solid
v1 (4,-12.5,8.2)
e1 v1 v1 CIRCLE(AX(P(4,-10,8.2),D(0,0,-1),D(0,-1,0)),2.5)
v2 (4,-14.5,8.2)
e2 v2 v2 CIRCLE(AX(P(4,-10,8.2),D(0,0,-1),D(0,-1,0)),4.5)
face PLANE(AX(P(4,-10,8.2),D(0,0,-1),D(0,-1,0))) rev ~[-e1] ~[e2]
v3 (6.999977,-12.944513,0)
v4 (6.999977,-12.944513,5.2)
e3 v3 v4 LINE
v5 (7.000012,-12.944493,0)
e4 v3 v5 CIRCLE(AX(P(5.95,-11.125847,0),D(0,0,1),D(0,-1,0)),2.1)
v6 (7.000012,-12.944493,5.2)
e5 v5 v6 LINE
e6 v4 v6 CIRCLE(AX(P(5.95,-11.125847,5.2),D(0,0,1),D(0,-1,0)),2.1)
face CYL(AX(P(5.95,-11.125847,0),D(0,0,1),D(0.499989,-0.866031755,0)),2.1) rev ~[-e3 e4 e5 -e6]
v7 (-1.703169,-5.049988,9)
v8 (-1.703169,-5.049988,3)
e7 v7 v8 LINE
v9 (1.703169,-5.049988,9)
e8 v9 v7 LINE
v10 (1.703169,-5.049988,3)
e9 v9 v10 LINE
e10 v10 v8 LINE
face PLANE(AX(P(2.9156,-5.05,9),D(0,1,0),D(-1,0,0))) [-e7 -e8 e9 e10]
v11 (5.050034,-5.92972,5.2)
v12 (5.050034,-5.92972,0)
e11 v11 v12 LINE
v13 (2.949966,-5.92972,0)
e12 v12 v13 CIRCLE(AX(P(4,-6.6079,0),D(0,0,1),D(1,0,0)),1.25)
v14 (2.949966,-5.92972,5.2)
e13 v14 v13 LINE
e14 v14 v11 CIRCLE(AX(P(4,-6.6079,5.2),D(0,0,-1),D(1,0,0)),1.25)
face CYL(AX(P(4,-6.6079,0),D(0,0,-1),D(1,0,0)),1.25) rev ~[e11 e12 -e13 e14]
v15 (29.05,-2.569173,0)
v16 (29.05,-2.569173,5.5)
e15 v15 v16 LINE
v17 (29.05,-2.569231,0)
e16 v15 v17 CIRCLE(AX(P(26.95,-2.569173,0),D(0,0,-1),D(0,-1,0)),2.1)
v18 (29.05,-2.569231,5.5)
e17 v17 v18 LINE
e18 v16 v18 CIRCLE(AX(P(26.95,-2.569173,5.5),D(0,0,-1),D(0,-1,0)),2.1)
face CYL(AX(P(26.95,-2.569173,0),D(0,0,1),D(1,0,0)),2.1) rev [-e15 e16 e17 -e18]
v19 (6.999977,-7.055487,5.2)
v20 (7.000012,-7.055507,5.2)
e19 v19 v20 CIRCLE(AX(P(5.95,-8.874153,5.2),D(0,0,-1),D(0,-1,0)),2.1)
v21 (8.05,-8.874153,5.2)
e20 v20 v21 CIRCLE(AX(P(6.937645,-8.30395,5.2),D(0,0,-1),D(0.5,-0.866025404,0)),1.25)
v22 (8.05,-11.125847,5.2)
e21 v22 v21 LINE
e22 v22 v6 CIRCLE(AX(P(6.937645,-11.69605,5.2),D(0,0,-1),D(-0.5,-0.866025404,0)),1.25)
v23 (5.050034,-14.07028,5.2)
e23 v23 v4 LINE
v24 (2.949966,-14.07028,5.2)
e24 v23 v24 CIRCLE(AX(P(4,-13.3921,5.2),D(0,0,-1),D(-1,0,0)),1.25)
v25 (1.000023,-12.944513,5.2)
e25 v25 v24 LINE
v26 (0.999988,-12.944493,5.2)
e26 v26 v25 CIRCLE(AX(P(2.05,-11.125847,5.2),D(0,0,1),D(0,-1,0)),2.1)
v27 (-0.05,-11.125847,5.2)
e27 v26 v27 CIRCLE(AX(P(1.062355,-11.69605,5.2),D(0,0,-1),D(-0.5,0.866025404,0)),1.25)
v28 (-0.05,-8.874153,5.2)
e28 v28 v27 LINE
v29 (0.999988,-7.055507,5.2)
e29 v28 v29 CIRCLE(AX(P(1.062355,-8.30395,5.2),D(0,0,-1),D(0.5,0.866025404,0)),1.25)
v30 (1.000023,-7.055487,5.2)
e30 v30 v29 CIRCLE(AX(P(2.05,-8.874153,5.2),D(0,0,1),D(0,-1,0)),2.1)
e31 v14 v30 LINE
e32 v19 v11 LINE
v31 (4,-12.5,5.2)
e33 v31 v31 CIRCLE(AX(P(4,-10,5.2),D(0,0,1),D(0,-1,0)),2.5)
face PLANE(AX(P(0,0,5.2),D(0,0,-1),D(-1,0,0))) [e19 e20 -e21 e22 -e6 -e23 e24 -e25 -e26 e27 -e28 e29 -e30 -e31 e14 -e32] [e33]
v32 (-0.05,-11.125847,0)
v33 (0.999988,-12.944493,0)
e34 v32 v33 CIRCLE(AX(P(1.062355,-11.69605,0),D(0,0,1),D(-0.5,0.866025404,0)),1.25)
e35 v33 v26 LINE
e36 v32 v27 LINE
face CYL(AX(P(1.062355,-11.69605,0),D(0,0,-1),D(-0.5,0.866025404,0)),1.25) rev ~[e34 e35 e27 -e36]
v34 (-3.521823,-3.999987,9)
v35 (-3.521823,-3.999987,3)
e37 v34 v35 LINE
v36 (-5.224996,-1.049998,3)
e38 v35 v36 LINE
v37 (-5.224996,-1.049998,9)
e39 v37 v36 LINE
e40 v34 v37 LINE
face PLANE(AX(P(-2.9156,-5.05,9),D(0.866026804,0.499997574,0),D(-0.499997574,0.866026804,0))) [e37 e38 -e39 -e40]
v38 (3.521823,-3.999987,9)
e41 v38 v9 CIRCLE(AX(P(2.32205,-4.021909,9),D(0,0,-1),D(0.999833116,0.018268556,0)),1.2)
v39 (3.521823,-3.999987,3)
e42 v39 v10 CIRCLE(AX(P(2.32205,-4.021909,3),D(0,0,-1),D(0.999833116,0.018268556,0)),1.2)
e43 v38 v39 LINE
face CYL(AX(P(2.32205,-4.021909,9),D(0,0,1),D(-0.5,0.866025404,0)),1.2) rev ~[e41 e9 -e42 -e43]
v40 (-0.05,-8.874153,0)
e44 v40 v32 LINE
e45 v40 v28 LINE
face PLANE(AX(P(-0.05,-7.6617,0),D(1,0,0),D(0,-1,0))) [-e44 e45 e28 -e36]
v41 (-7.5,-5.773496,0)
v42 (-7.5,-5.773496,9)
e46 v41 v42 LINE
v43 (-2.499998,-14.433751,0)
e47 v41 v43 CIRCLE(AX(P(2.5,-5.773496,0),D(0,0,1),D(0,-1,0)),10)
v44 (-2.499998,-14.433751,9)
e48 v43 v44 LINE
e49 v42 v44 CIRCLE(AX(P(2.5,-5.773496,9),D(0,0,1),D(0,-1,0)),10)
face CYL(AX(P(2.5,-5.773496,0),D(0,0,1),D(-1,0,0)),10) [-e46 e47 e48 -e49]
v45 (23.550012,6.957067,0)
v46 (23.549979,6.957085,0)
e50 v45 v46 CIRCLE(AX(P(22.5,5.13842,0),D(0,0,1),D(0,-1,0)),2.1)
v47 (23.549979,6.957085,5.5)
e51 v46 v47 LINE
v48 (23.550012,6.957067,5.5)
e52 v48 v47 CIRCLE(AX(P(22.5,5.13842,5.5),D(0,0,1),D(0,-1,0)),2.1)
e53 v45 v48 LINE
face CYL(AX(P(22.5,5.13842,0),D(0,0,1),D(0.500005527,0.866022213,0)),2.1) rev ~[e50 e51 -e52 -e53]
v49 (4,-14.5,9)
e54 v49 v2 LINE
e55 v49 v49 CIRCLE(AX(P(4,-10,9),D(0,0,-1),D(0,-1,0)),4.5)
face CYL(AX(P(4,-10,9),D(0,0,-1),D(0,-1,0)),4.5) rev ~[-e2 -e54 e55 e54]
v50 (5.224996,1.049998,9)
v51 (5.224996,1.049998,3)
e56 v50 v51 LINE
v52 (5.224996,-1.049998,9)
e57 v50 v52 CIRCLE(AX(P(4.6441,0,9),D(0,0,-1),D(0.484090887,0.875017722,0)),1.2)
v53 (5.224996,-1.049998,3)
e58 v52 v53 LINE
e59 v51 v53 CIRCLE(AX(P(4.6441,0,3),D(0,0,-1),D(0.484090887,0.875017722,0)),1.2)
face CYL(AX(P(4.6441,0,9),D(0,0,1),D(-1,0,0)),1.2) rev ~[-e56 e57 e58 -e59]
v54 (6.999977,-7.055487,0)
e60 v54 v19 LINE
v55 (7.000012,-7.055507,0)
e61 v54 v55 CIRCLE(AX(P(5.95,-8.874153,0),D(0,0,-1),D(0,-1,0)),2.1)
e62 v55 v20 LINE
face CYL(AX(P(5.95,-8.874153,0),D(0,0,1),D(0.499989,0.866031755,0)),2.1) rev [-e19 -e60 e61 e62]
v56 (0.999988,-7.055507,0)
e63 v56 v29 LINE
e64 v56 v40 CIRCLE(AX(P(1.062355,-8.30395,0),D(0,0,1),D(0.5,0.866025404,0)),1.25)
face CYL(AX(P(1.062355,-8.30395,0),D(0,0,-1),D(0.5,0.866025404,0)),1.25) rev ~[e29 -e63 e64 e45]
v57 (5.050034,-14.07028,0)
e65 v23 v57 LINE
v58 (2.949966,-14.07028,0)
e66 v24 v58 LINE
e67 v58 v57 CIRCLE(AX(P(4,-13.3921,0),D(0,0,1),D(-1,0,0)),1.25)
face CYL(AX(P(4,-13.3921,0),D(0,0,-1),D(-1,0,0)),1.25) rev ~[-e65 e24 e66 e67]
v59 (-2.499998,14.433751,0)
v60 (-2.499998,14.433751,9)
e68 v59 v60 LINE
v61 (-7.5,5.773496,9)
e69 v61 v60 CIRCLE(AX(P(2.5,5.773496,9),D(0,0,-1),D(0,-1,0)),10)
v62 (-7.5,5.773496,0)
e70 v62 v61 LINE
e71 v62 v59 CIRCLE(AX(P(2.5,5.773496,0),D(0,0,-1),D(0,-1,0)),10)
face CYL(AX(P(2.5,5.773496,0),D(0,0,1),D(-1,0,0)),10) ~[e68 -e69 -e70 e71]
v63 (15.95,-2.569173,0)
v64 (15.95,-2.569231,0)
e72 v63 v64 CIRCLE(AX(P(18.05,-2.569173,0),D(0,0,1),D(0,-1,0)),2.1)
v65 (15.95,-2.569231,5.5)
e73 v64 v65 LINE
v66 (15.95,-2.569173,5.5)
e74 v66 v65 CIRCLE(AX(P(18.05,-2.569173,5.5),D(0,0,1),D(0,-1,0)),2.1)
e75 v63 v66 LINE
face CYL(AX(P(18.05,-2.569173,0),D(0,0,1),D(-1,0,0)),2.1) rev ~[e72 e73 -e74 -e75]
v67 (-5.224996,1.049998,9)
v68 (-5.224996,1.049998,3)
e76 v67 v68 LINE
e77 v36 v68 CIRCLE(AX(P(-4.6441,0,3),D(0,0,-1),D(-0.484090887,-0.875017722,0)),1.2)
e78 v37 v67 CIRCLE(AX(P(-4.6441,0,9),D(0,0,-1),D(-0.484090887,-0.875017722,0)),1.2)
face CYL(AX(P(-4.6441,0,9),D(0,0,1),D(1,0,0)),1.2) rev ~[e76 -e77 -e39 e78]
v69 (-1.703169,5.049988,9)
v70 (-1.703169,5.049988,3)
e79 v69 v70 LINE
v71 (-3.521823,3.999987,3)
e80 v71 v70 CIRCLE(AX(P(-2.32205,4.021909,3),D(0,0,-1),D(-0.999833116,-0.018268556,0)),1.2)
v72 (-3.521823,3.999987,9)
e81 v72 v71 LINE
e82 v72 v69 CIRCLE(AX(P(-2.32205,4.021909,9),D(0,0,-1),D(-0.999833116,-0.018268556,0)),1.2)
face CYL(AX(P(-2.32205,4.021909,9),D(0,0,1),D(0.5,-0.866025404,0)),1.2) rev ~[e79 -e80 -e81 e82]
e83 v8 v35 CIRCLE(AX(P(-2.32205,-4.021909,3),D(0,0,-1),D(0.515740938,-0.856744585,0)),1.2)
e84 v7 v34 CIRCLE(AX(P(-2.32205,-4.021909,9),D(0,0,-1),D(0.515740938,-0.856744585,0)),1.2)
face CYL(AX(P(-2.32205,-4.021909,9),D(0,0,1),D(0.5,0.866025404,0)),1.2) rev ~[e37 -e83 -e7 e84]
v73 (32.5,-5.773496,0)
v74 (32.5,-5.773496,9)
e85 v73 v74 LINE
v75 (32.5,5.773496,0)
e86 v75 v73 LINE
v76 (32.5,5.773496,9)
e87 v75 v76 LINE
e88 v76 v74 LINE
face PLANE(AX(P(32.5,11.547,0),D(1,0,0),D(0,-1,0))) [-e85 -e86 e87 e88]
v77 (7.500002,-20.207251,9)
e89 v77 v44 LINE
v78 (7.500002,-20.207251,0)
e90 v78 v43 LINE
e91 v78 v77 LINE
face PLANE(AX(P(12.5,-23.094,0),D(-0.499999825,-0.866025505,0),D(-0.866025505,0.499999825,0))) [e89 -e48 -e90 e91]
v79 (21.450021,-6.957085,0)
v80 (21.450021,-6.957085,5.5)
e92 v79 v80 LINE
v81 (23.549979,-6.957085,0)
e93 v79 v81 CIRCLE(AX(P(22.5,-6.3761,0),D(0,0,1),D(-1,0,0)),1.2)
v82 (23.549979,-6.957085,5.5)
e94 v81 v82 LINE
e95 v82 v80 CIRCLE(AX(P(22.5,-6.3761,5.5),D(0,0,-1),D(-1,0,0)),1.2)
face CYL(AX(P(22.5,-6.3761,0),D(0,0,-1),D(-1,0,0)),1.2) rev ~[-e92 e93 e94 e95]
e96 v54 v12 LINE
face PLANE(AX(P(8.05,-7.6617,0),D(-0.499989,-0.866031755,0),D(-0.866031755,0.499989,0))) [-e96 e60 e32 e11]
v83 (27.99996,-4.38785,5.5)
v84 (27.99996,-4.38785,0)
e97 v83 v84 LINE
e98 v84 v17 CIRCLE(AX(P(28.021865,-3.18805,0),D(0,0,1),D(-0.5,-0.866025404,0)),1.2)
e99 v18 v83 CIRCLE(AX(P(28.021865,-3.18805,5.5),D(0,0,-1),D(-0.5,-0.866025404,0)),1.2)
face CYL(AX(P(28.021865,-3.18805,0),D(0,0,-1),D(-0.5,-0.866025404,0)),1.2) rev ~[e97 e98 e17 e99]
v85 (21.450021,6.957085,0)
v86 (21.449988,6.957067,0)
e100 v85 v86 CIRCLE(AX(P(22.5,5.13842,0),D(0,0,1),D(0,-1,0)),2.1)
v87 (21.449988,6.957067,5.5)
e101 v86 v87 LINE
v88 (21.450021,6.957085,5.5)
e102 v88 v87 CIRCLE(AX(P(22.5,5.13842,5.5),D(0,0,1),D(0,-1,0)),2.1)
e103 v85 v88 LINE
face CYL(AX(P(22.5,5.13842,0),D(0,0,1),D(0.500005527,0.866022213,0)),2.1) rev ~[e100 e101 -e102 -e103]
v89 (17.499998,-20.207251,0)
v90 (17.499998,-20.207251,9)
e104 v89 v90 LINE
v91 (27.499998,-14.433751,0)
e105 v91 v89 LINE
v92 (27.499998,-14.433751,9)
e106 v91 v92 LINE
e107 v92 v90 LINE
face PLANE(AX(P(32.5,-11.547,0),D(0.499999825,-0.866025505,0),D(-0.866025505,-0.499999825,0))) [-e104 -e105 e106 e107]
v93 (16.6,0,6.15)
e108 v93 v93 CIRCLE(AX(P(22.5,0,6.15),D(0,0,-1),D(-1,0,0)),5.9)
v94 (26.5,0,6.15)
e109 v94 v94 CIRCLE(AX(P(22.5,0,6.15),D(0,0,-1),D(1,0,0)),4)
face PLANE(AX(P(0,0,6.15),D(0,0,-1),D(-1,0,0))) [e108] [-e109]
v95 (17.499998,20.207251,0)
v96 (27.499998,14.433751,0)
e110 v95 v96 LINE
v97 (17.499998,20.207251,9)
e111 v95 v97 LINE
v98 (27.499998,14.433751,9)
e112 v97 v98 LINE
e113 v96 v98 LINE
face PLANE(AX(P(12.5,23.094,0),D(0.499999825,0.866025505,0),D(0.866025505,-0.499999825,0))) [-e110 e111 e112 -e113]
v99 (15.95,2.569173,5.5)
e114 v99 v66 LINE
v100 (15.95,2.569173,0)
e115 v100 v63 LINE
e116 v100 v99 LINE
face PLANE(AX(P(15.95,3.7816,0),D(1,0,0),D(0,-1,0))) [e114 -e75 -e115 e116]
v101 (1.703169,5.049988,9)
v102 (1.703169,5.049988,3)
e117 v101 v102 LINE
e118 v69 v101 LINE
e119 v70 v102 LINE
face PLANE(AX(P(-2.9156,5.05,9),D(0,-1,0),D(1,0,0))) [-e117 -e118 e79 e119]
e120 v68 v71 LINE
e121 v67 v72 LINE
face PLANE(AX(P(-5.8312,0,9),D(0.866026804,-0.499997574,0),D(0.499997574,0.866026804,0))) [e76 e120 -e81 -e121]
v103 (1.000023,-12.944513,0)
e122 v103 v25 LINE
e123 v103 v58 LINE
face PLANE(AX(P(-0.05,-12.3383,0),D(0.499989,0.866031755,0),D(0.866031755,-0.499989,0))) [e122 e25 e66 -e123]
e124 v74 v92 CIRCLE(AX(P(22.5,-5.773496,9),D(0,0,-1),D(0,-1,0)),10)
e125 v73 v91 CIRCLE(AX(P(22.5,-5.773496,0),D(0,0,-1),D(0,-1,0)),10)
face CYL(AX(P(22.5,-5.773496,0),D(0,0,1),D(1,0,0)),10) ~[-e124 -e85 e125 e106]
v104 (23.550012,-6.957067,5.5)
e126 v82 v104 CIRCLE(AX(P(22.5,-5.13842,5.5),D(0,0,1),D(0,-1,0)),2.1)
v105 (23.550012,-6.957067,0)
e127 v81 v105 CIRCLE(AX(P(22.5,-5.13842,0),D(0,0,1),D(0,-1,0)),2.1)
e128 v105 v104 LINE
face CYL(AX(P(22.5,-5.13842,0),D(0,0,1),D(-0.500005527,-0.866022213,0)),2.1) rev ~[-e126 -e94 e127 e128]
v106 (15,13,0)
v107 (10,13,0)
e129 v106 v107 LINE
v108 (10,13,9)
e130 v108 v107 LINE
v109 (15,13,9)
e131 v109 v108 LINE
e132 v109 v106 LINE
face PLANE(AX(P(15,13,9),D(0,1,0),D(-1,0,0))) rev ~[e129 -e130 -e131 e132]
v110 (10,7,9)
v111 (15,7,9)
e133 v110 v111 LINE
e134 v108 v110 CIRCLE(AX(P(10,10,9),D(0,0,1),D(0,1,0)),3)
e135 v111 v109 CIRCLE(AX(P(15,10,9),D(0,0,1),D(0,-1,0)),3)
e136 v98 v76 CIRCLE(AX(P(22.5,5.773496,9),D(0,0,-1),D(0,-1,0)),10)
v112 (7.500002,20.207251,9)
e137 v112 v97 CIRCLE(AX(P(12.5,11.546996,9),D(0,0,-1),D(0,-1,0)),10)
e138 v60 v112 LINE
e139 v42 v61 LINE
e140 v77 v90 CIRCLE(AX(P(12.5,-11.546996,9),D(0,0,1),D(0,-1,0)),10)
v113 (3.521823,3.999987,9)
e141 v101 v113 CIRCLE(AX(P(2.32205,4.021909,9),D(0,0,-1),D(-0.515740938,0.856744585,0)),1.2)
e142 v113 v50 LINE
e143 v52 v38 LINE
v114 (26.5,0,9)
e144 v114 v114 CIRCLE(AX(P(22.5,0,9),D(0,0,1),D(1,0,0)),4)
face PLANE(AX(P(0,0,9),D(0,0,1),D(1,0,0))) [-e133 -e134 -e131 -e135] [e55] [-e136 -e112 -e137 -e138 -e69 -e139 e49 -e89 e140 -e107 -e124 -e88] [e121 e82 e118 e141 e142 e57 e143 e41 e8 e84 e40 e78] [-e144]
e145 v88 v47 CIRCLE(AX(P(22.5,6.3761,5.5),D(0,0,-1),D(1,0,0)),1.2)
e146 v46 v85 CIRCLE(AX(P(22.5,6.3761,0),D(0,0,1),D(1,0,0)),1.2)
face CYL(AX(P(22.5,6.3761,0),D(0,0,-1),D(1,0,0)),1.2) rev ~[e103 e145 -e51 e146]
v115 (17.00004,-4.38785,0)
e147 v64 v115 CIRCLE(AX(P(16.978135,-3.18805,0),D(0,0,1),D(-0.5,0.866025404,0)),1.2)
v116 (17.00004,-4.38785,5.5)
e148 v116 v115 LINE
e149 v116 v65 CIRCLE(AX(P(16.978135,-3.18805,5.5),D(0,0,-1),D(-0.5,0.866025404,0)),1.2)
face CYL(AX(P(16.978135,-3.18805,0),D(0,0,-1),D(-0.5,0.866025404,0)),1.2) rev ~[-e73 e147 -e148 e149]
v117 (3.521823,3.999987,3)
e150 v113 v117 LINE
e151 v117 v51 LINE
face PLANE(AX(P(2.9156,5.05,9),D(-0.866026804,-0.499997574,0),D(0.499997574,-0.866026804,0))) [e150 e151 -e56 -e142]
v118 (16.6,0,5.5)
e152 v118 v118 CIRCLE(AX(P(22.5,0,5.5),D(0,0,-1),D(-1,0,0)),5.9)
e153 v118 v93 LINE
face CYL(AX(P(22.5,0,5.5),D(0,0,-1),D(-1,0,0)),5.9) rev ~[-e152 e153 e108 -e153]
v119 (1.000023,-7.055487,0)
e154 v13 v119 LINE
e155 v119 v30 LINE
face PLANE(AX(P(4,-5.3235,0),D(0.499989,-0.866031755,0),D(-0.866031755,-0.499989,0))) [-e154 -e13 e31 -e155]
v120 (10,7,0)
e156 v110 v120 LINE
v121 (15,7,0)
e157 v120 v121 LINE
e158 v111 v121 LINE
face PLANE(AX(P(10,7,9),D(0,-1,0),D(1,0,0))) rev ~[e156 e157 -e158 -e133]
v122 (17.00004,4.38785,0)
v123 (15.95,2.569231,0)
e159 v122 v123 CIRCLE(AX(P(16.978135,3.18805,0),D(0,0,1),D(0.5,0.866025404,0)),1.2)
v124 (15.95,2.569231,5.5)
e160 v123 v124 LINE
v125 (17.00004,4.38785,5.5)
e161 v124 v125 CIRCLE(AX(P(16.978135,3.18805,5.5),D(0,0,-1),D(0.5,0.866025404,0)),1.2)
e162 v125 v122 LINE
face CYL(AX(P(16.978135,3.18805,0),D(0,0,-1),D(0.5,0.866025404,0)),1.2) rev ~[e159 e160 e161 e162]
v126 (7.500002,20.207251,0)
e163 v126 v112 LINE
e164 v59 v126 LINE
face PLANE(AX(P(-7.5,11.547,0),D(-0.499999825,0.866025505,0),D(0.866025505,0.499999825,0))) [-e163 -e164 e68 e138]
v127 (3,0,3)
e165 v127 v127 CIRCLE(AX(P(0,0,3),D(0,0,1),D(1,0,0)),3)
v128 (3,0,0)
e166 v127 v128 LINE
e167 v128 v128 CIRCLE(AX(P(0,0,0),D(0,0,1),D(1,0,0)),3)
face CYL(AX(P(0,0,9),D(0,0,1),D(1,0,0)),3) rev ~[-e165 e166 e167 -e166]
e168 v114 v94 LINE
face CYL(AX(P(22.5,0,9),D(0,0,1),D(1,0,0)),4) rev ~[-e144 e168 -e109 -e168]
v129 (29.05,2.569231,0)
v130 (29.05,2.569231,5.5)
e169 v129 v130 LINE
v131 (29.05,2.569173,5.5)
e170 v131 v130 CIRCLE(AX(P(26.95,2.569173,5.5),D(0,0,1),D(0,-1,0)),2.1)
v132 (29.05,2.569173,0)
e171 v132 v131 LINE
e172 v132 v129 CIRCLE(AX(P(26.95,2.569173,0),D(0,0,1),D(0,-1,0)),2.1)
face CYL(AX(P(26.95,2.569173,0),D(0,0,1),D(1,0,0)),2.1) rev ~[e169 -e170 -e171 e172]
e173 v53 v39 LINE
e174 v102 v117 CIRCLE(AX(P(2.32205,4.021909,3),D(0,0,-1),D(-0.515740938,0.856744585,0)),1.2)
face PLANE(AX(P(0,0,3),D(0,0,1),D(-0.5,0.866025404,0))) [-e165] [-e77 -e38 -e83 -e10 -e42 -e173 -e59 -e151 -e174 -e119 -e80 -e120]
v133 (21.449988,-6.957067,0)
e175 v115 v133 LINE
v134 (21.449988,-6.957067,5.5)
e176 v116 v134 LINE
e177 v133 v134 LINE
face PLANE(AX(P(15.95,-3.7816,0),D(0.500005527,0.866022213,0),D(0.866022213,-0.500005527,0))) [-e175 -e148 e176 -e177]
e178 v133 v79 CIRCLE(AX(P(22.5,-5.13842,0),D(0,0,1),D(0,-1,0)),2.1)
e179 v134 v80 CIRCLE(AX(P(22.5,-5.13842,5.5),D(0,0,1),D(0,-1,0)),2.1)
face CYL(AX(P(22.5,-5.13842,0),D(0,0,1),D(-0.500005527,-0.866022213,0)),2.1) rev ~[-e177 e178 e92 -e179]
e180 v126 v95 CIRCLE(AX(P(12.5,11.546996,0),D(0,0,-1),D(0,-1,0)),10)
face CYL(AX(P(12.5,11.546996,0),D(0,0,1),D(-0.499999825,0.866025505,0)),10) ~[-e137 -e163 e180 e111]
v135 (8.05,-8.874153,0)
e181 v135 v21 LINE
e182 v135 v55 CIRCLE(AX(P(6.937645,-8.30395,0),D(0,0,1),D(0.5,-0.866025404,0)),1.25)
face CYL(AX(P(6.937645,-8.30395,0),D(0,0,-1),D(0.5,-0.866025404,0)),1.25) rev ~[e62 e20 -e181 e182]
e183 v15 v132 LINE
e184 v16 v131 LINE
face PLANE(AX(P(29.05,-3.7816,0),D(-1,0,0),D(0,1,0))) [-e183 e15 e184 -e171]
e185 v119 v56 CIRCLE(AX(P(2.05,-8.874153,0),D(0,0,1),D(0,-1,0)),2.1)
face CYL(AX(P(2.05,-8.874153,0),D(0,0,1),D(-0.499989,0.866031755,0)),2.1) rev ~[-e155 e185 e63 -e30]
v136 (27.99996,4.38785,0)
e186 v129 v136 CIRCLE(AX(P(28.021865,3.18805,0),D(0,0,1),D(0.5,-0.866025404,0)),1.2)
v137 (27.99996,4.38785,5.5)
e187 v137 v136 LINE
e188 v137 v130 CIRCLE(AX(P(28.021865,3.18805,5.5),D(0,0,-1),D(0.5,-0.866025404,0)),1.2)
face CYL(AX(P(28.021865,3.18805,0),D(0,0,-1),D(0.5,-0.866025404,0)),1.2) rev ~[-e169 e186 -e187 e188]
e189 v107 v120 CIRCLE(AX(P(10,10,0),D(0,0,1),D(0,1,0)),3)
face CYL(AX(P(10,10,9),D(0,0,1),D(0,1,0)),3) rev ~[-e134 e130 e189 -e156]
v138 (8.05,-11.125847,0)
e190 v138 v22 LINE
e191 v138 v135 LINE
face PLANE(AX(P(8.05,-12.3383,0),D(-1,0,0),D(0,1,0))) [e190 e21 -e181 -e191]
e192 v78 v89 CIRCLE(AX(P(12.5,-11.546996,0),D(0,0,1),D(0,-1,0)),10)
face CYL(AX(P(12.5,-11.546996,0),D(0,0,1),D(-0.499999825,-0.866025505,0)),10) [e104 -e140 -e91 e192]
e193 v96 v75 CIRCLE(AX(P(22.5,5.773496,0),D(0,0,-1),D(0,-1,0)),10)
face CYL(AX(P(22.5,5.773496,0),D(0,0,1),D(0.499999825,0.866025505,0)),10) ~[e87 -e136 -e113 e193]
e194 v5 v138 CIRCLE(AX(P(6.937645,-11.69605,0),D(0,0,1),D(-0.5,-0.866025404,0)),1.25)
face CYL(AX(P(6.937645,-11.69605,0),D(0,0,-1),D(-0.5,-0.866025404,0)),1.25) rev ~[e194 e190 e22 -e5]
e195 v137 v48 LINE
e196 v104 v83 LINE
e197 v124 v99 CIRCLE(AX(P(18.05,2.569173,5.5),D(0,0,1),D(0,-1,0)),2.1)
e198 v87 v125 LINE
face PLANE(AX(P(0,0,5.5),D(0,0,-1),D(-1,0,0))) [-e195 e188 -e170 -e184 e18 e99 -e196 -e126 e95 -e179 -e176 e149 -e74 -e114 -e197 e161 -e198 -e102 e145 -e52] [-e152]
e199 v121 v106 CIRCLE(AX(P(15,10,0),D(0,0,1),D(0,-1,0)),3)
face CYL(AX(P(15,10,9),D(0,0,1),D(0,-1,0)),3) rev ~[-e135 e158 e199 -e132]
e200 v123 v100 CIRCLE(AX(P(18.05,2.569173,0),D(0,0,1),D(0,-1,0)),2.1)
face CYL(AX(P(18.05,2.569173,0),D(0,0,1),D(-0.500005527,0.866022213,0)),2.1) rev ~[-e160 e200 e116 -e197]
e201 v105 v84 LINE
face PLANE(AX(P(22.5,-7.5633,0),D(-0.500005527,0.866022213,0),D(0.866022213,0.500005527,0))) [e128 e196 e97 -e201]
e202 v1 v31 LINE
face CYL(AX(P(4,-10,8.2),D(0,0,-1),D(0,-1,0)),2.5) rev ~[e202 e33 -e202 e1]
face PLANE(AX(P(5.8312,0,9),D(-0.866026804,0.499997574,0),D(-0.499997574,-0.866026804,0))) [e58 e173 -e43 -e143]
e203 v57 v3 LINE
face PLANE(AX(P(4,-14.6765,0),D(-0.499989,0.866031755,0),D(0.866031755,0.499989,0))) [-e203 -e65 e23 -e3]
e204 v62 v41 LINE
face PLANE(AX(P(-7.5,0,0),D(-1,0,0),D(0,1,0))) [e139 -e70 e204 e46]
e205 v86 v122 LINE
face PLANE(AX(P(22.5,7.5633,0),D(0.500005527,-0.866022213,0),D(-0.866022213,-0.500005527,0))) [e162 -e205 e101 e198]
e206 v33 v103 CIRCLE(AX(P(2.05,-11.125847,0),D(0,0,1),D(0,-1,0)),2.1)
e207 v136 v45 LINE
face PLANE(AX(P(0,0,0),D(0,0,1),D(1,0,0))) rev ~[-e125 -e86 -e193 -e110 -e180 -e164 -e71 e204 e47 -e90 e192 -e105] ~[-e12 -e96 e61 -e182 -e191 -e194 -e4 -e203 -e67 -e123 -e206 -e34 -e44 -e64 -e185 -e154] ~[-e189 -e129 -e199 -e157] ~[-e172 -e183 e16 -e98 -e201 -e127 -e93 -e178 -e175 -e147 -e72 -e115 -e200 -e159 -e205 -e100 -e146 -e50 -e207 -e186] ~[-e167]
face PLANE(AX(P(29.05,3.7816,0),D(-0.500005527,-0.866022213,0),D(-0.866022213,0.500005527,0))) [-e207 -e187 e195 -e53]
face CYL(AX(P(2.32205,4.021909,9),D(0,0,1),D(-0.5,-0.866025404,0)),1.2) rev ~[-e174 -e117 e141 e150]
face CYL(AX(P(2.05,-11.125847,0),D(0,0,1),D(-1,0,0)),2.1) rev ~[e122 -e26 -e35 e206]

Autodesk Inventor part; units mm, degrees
ref_plane "YZ Plane" through (0, 0, 0) normal (1, 0, 0) x (0, 1, 0)
ref_plane "XZ Plane" through (0, 0, 0) normal (0, 1, 0) x (-1, 0, 0)
ref_plane "XY Plane" through (0, 0, 0) normal (0, 0, 1) x (1, 0, 0)
sketch "Sketch1" plane through (0, 0, 0) normal (0, 0, 1) x (1, 0, 0)
  circle A0 centre (0, 0) radius 7.5
  line L0 (-5.7735, 0) -> (-2.8868, 5)
  line L1 (-2.8868, 5) -> (2.8868, 5)
  line L2 (2.8868, 5) -> (5.7735, 0)
  line L3 (5.7735, 0) -> (2.8868, -5)
  line L4 (2.8868, -5) -> (-2.8868, -5)
  line L5 (-2.8868, -5) -> (-5.7735, 0)
  dimension "d0" = 15
  dimension "d1" = 10
extrude "Extrusion1" add sketch "Sketch1" along normal blind 9 contours A0 | L0 L1 L2 L3 L4 L5
sketch "Sketch4" plane through (0, 0, 9) normal (0, 0, 1) x (1, 0, 0)
  circle A0 centre (0, 0) radius 3
  dimension "d15" = 6
extrude "Extrusion4" cut sketch "Sketch4" against normal through all
sketch "Sketch5" plane through (0, 0, 9) normal (0, 0, 1) x (1, 0, 0)
  line L0 (-2.9156, -5.05) -> (-5.8312, 0)
  line L1 (-5.8312, 0) -> (-2.9156, 5.05)
  line L2 (-2.9156, 5.05) -> (2.9156, 5.05)
  line L3 (2.9156, 5.05) -> (5.8312, 0)
  line L4 (5.8312, 0) -> (2.9156, -5.05)
  line L5 (2.9156, -5.05) -> (-2.9156, -5.05)
  point P0 (0, 0)
  point P1 (0, 0)
  dimension "d18" = 10.1
extrude "Extrusion5" cut sketch "Sketch5" against normal blind 6
sketch "Sketch6" plane through (0, 0, 9) normal (0, 0, 1) x (1, 0, 0)
  point P0 (0, 0)
fillet "Fillet1" radius 2.1 6 edges at (5.8312, 0, 6) (2.9156, 5.05, 6) (-2.9156, 5.05, 6) (-5.8312, 0, 6) (-2.9156, -5.05, 6) (2.9156, -5.05, 6)
sketch "Sketch7" plane through (0, 0, 9) normal (0, 0, 1) x (1, 0, 0)
  arc A0 (-3.5218, -4) -> (-1.7032, -5.05) centre (-1.7032, -2.95) ccw projected
  arc A1 (-5.225, 1.05) -> (-5.225, -1.05) centre (-3.4064, 0) ccw projected
  arc A2 (-1.7032, 5.05) -> (-3.5218, 4) centre (-1.7032, 2.95) ccw projected
  arc A3 (3.5218, 4) -> (1.7032, 5.05) centre (1.7032, 2.95) ccw projected
  arc A4 (5.225, -1.05) -> (5.225, 1.05) centre (3.4064, 0) ccw projected
  arc A5 (1.7032, -5.05) -> (3.5218, -4) centre (1.7032, -2.95) ccw projected
  line L0 (-45.8, 0) -> (57.8, 0) projected
  circle A6 centre (-4.6441, 0) radius 1.2
  point P0 (0, 0)
  dimension "d22" = 2.4
extrude "Extrusion6" cut sketch "Sketch7" against normal up to surface (6 mm away)
pattern_circular "Circular Pattern1" count 6 over 360 about axis through (0, 0, 9) along (0, 0, -1) of "Extrusion6"
sketch "Sketch9" plane through (0, 0, 0) normal (0, 0, 1) x (1, 0, 0)
  line L0 (-10.5, 0) -> (10.5, 0) projected
  circle A0 centre (12.5, 0) radius 20 construction
  circle A1 centre (0, 0) radius 7.5 projected
  line L1 (-7.5, -11.547) -> (-7.5, 11.547)
  line L2 (-7.5, 11.547) -> (12.5, 23.094)
  line L3 (12.5, 23.094) -> (32.5, 11.547)
  line L4 (32.5, 11.547) -> (32.5, -11.547)
  line L5 (32.5, -11.547) -> (12.5, -23.094)
  line L6 (12.5, -23.094) -> (-7.5, -11.547)
  point P0 (-7.5, 0)
  point P1 (-7.5, 0)
  dimension "d28" = 40
extrude "Extrusion7" add sketch "Sketch9" along normal up to surface (9 mm away)
sketch "Sketch10" plane through (10, 0, 9) normal (0, 0, 1) x (1, 0, 0)
  circle A0 centre (-6, -10) radius 2 construction
  point P0 (-10, 0)
  dimension "d31" = 4
  dimension "d32" = 4
  dimension "d33" = 10
fillet "Fillet2" radius 10 6 edges at (-7.5, -11.547, 4.5) (12.5, -23.094, 4.5) (32.5, -11.547, 4.5) (-7.5, 11.547, 4.5) (12.5, 23.094, 4.5) (32.5, 11.547, 4.5)
hole "Hole1" at (4, -10, 9) direction (0, 0, -1) diameter 5 end through all counterbore diameter 9 counterbore depth 0.8
sketch "Sketch13" plane through (0, 0, 0) normal (0, 0, -1) x (-1, 0, 0)
  circle A0 centre (-4, -10) radius 2.5 projected
  line L0 (-8.05, -7.6617) -> (-4, -5.3235)
  line L1 (-4, -5.3235) -> (0.05, -7.6617)
  line L2 (0.05, -7.6617) -> (0.05, -12.3383)
  line L3 (0.05, -12.3383) -> (-4, -14.6765)
  line L4 (-4, -14.6765) -> (-8.05, -12.3383)
  line L5 (-8.05, -12.3383) -> (-8.05, -7.6617)
  line L6 (2.5, -14.4338) -> (-7.5, -20.2073) projected
  point P0 (0, 0)
  point P1 (-6.025, -13.5074)
  dimension "d44" = 8.1
extrude "Extrusion9" cut sketch "Sketch13" against normal blind 5.2
fillet "Fillet3" radius 2.1 6 edges at (4, -14.6765, 2.6) (-0.05, -12.3383, 2.6) (-0.05, -7.6617, 2.6) (4, -5.3235, 2.6) (8.05, -7.6617, 2.6) (8.05, -12.3383, 2.6)
sketch "Sketch15" plane through (0, 0, 0) normal (0, 0, -1) x (-1, 0, 0)
  arc A0 (-5.05, -14.0703) -> (-2.95, -14.0703) centre (-4, -12.2517) ccw projected
  line L0 (-4, -12.2517) -> (-4, -11.6129) construction
  circle A1 centre (-4, -13.3921) radius 1.25
  point P0 (0, 0)
  dimension "d48" = 2.5
extrude "Extrusion10" cut sketch "Sketch15" against normal up to surface (5.2 mm away)
pattern_circular "Circular Pattern2" count 6 over 360 about axis through (4, -10, -50.4819) along (0, 0, 1) of "Extrusion10"
sketch "Sketch16" plane through (0, 0, 9) normal (0, 0, 1) x (1, 0, 0)
  circle A0 centre (22.5, 0) radius 4
  line L0 (32.5, 5.7735) -> (32.5, -5.7735) projected
  point P0 (0, 0)
  dimension "d54" = 8
  dimension "d68" = 10
extrude "Extrusion11" cut sketch "Sketch16" against normal through all
sketch "Sketch17" plane through (0, 0, 0) normal (0, 0, -1) x (-1, 0, 0)
  circle A0 centre (-22.5, 0) radius 4 projected
  line L0 (-29.05, -3.7816) -> (-29.05, 3.7816)
  line L1 (-29.05, 3.7816) -> (-22.5, 7.5633)
  line L2 (-22.5, 7.5633) -> (-15.95, 3.7816)
  line L3 (-15.95, 3.7816) -> (-15.95, -3.7816)
  line L4 (-15.95, -3.7816) -> (-22.5, -7.5633)
  line L5 (-22.5, -7.5633) -> (-29.05, -3.7816)
  line L6 (-32.5, -5.7735) -> (-32.5, 5.7735) projected
  point P0 (0, 0)
  dimension "d58" = 13.1
extrude "Extrusion12" cut sketch "Sketch17" against normal blind 5.5
fillet "Fillet4" radius 2.1 6 edges at (22.5, -7.5633, 2.75) (15.95, -3.7816, 2.75) (15.95, 3.7816, 2.75) (22.5, 7.5633, 2.75) (29.05, 3.7816, 2.75) (29.05, -3.7816, 2.75)
sketch "Sketch19" plane through (0, 0, 0) normal (0, 0, -1) x (-1, 0, 0)
  arc A0 (-23.55, -6.9571) -> (-21.45, -6.9571) centre (-22.5, -5.1384) ccw projected
  line L0 (-22.5, -5.1384) -> (-22.5, -8.2461) construction
  circle A1 centre (-22.5, -6.3761) radius 1.2
  arc A2 (-23.55, -6.9571) -> (-21.45, -6.9571) centre (-22.5, -5.1384) ccw projected
  line L1 (-21.45, -6.9571) -> (-22.5, -7.5633) construction
  line L2 (-23.55, -6.9571) -> (-22.5, -7.5633) construction
  line L3 (-23.55, -6.9571) -> (-28, -4.3879) projected
  point P0 (0, 0)
  dimension "d62" = 2.4
extrude "Extrusion13" cut sketch "Sketch19" against normal up to surface (5.5 mm away)
pattern_circular "Circular Pattern3" count 6 over 360 about axis through (22.5, 0, 9) along (0, 0, -1) of "Extrusion13"
sketch "Sketch20" plane through (0, 0, 5.5) normal (0, 0, -1) x (-1, 0, 0)
  circle A0 centre (-22.5, 0) radius 4 projected
  circle A1 centre (-22.5, 0) radius 5.9
  point P0 (0, 0)
  dimension "d69" = 11.8
extrude "Extrusion14" cut sketch "Sketch20" against normal blind 0.65
sketch "Sketch21" plane through (0, 0, 9) normal (0, 0, 1) x (1, 0, 0)
  point P0 (0, 0)
sketch "Sketch22" plane through (0, 0, 9) normal (0, 0, 1) x (1, 0, 0)
  line L0 (54.5318, 10) -> (-19.1234, 10) construction
  arc A0 (32.5, 5.7735) -> (27.5, 14.4338) centre (22.5, 5.7735) ccw projected
  line L1 (-7.5, -5.7735) -> (-7.5, 5.7735) projected
  line L2 (15, 10) -> (10, 10) construction
  line L3 (15, 13) -> (10, 13)
  line L4 (10, 7) -> (15, 7)
  arc A1 (15, 7) -> (15, 13) centre (15, 10) ccw
  arc A2 (10, 13) -> (10, 7) centre (10, 10) ccw
  line L5 (12.5, 32) -> (12.5, -41) construction
  point P0 (0, 0)
  point P1 (12.5, 10)
  dimension "d72" = 40
  dimension "d74" = 6
  dimension "d75" = 5
  dimension "d76" = 10
  dimension "d79" = 20
extrude "Extrusion15" cut sketch "Sketch22" against normal blind 10
sketch "Sketch23" plane through (0, 0, 9) normal (0, 0, 1) x (1, 0, 0)
  arc A0 (15, 7) -> (15, 13) centre (15, 10) ccw projected
  circle A1 centre (22.5, 0) radius 4 projected
  point P0 (0, 0)
sketch "Sketch24" plane through (0, 0, 0) normal (0, 0, -1) x (-1, 0, 0)
  arc A0 (7.5, 5.7735) -> (2.5, 14.4338) centre (-2.5, 5.7735) ccw projected
  line L0 (7.5, 5.7735) -> (7.5, 22) construction
  line L1 (-10, 7) -> (31, 7) construction
  point P0 (0, 0)
  point P1 (7.5, 7)
sketch "Sketch25" plane through (0, 0, 9) normal (0, 0, 1) x (1, 0, 0)
  arc A0 (-2.5, 14.4338) -> (-7.5, 5.7735) centre (2.5, 5.7735) ccw projected
  point P0 (0, 0)
  point P1 (-7.5, 7)
sketch "Sketch26" plane through (0, 0, 0) normal (0, 0, -1) x (-1, 0, 0)
  circle A0 centre (-4, -10) radius 2.5 projected
  circle A1 centre (-22.5, 0) radius 4 projected
  circle A2 centre (0, 0) radius 3 projected
sketch "Sketch27" plane through (0, 0, 0) normal (0, 0, -1) x (-1, 0, 0)
  line L0 (-17, -4.3879) -> (-21.45, -6.9571) projected
  arc A0 (-23.55, -6.9571) -> (-21.45, -6.9571) centre (-22.5, -6.3761) ccw projected
  line L1 (-23.55, -6.9571) -> (-28, -4.3879) projected
  arc A1 (-29.05, -2.5692) -> (-28, -4.3879) centre (-28.0219, -3.1881) ccw projected
  line L2 (-29.05, -2.5692) -> (-29.05, 2.5692) projected
  arc A2 (-28, 4.3879) -> (-29.05, 2.5692) centre (-28.0219, 3.1881) ccw projected
  line L3 (-28, 4.3879) -> (-23.55, 6.9571) projected
  arc A3 (-21.45, 6.9571) -> (-23.55, 6.9571) centre (-22.5, 6.3761) ccw projected
  line L4 (-21.45, 6.9571) -> (-17, 4.3879) projected
  arc A4 (-15.95, 2.5692) -> (-17, 4.3879) centre (-16.9781, 3.1881) ccw projected
  line L5 (-15.95, 2.5692) -> (-15.95, -2.5692) projected
  arc A5 (-17, -4.3879) -> (-15.95, -2.5692) centre (-16.9781, -3.1881) ccw projected
  line L6 (-1, -12.9445) -> (-2.95, -14.0703) projected
  arc A6 (-5.05, -14.0703) -> (-2.95, -14.0703) centre (-4, -13.3921) ccw projected
  line L7 (-5.05, -14.0703) -> (-7, -12.9445) projected
  arc A7 (-8.05, -11.1258) -> (-7, -12.9445) centre (-6.9376, -11.696) ccw projected
  line L8 (-8.05, -11.1258) -> (-8.05, -8.8742) projected
  arc A8 (-7, -7.0555) -> (-8.05, -8.8742) centre (-6.9376, -8.304) ccw projected
  line L9 (-7, -7.0555) -> (-5.05, -5.9297) projected
  arc A9 (-2.95, -5.9297) -> (-5.05, -5.9297) centre (-4, -6.6079) ccw projected
  line L10 (-2.95, -5.9297) -> (-1, -7.0555) projected
  arc A10 (0.05, -8.8742) -> (-1, -7.0555) centre (-1.0624, -8.304) ccw projected
  line L11 (0.05, -8.8742) -> (0.05, -11.1258) projected
  arc A11 (-1, -12.9445) -> (0.05, -11.1258) centre (-1.0624, -11.696) ccw projected
  point P0 (0, 0)
sketch "Sketch28" plane through (0, 0, 9) normal (0, 0, 1) x (1, 0, 0)
  line L0 (-16.3382, 0) -> (43, 0) construction
  line L1 (12.5, 25) -> (12.5, -25) construction
  line L2 (32.5, 5.7735) -> (32.5, -5.7735) projected
  line L3 (-7.5, -5.7735) -> (-7.5, 5.7735) projected
  arc A0 (7.5, -20.2073) -> (17.5, -20.2073) centre (12.5, -11.547) ccw projected
  arc A1 (17.5, 20.2073) -> (7.5, 20.2073) centre (12.5, 11.547) ccw projected
  point P0 (0, 0)
  point P1 (-10.25, 24)
  dimension "d80" = 40
  dimension "d81" = 20
  dimension "d82" = 23.094
  dimension "d83" = 11.547
  dimension "d84" = 22.75
  dimension "d85" = 24
equation "\"d79\" = 0.5 * d72"
equation "\"d81\" = 0.5 * d80"
equation "\"d83\" = 0.5 * d82"
properties part number "Bottom"
